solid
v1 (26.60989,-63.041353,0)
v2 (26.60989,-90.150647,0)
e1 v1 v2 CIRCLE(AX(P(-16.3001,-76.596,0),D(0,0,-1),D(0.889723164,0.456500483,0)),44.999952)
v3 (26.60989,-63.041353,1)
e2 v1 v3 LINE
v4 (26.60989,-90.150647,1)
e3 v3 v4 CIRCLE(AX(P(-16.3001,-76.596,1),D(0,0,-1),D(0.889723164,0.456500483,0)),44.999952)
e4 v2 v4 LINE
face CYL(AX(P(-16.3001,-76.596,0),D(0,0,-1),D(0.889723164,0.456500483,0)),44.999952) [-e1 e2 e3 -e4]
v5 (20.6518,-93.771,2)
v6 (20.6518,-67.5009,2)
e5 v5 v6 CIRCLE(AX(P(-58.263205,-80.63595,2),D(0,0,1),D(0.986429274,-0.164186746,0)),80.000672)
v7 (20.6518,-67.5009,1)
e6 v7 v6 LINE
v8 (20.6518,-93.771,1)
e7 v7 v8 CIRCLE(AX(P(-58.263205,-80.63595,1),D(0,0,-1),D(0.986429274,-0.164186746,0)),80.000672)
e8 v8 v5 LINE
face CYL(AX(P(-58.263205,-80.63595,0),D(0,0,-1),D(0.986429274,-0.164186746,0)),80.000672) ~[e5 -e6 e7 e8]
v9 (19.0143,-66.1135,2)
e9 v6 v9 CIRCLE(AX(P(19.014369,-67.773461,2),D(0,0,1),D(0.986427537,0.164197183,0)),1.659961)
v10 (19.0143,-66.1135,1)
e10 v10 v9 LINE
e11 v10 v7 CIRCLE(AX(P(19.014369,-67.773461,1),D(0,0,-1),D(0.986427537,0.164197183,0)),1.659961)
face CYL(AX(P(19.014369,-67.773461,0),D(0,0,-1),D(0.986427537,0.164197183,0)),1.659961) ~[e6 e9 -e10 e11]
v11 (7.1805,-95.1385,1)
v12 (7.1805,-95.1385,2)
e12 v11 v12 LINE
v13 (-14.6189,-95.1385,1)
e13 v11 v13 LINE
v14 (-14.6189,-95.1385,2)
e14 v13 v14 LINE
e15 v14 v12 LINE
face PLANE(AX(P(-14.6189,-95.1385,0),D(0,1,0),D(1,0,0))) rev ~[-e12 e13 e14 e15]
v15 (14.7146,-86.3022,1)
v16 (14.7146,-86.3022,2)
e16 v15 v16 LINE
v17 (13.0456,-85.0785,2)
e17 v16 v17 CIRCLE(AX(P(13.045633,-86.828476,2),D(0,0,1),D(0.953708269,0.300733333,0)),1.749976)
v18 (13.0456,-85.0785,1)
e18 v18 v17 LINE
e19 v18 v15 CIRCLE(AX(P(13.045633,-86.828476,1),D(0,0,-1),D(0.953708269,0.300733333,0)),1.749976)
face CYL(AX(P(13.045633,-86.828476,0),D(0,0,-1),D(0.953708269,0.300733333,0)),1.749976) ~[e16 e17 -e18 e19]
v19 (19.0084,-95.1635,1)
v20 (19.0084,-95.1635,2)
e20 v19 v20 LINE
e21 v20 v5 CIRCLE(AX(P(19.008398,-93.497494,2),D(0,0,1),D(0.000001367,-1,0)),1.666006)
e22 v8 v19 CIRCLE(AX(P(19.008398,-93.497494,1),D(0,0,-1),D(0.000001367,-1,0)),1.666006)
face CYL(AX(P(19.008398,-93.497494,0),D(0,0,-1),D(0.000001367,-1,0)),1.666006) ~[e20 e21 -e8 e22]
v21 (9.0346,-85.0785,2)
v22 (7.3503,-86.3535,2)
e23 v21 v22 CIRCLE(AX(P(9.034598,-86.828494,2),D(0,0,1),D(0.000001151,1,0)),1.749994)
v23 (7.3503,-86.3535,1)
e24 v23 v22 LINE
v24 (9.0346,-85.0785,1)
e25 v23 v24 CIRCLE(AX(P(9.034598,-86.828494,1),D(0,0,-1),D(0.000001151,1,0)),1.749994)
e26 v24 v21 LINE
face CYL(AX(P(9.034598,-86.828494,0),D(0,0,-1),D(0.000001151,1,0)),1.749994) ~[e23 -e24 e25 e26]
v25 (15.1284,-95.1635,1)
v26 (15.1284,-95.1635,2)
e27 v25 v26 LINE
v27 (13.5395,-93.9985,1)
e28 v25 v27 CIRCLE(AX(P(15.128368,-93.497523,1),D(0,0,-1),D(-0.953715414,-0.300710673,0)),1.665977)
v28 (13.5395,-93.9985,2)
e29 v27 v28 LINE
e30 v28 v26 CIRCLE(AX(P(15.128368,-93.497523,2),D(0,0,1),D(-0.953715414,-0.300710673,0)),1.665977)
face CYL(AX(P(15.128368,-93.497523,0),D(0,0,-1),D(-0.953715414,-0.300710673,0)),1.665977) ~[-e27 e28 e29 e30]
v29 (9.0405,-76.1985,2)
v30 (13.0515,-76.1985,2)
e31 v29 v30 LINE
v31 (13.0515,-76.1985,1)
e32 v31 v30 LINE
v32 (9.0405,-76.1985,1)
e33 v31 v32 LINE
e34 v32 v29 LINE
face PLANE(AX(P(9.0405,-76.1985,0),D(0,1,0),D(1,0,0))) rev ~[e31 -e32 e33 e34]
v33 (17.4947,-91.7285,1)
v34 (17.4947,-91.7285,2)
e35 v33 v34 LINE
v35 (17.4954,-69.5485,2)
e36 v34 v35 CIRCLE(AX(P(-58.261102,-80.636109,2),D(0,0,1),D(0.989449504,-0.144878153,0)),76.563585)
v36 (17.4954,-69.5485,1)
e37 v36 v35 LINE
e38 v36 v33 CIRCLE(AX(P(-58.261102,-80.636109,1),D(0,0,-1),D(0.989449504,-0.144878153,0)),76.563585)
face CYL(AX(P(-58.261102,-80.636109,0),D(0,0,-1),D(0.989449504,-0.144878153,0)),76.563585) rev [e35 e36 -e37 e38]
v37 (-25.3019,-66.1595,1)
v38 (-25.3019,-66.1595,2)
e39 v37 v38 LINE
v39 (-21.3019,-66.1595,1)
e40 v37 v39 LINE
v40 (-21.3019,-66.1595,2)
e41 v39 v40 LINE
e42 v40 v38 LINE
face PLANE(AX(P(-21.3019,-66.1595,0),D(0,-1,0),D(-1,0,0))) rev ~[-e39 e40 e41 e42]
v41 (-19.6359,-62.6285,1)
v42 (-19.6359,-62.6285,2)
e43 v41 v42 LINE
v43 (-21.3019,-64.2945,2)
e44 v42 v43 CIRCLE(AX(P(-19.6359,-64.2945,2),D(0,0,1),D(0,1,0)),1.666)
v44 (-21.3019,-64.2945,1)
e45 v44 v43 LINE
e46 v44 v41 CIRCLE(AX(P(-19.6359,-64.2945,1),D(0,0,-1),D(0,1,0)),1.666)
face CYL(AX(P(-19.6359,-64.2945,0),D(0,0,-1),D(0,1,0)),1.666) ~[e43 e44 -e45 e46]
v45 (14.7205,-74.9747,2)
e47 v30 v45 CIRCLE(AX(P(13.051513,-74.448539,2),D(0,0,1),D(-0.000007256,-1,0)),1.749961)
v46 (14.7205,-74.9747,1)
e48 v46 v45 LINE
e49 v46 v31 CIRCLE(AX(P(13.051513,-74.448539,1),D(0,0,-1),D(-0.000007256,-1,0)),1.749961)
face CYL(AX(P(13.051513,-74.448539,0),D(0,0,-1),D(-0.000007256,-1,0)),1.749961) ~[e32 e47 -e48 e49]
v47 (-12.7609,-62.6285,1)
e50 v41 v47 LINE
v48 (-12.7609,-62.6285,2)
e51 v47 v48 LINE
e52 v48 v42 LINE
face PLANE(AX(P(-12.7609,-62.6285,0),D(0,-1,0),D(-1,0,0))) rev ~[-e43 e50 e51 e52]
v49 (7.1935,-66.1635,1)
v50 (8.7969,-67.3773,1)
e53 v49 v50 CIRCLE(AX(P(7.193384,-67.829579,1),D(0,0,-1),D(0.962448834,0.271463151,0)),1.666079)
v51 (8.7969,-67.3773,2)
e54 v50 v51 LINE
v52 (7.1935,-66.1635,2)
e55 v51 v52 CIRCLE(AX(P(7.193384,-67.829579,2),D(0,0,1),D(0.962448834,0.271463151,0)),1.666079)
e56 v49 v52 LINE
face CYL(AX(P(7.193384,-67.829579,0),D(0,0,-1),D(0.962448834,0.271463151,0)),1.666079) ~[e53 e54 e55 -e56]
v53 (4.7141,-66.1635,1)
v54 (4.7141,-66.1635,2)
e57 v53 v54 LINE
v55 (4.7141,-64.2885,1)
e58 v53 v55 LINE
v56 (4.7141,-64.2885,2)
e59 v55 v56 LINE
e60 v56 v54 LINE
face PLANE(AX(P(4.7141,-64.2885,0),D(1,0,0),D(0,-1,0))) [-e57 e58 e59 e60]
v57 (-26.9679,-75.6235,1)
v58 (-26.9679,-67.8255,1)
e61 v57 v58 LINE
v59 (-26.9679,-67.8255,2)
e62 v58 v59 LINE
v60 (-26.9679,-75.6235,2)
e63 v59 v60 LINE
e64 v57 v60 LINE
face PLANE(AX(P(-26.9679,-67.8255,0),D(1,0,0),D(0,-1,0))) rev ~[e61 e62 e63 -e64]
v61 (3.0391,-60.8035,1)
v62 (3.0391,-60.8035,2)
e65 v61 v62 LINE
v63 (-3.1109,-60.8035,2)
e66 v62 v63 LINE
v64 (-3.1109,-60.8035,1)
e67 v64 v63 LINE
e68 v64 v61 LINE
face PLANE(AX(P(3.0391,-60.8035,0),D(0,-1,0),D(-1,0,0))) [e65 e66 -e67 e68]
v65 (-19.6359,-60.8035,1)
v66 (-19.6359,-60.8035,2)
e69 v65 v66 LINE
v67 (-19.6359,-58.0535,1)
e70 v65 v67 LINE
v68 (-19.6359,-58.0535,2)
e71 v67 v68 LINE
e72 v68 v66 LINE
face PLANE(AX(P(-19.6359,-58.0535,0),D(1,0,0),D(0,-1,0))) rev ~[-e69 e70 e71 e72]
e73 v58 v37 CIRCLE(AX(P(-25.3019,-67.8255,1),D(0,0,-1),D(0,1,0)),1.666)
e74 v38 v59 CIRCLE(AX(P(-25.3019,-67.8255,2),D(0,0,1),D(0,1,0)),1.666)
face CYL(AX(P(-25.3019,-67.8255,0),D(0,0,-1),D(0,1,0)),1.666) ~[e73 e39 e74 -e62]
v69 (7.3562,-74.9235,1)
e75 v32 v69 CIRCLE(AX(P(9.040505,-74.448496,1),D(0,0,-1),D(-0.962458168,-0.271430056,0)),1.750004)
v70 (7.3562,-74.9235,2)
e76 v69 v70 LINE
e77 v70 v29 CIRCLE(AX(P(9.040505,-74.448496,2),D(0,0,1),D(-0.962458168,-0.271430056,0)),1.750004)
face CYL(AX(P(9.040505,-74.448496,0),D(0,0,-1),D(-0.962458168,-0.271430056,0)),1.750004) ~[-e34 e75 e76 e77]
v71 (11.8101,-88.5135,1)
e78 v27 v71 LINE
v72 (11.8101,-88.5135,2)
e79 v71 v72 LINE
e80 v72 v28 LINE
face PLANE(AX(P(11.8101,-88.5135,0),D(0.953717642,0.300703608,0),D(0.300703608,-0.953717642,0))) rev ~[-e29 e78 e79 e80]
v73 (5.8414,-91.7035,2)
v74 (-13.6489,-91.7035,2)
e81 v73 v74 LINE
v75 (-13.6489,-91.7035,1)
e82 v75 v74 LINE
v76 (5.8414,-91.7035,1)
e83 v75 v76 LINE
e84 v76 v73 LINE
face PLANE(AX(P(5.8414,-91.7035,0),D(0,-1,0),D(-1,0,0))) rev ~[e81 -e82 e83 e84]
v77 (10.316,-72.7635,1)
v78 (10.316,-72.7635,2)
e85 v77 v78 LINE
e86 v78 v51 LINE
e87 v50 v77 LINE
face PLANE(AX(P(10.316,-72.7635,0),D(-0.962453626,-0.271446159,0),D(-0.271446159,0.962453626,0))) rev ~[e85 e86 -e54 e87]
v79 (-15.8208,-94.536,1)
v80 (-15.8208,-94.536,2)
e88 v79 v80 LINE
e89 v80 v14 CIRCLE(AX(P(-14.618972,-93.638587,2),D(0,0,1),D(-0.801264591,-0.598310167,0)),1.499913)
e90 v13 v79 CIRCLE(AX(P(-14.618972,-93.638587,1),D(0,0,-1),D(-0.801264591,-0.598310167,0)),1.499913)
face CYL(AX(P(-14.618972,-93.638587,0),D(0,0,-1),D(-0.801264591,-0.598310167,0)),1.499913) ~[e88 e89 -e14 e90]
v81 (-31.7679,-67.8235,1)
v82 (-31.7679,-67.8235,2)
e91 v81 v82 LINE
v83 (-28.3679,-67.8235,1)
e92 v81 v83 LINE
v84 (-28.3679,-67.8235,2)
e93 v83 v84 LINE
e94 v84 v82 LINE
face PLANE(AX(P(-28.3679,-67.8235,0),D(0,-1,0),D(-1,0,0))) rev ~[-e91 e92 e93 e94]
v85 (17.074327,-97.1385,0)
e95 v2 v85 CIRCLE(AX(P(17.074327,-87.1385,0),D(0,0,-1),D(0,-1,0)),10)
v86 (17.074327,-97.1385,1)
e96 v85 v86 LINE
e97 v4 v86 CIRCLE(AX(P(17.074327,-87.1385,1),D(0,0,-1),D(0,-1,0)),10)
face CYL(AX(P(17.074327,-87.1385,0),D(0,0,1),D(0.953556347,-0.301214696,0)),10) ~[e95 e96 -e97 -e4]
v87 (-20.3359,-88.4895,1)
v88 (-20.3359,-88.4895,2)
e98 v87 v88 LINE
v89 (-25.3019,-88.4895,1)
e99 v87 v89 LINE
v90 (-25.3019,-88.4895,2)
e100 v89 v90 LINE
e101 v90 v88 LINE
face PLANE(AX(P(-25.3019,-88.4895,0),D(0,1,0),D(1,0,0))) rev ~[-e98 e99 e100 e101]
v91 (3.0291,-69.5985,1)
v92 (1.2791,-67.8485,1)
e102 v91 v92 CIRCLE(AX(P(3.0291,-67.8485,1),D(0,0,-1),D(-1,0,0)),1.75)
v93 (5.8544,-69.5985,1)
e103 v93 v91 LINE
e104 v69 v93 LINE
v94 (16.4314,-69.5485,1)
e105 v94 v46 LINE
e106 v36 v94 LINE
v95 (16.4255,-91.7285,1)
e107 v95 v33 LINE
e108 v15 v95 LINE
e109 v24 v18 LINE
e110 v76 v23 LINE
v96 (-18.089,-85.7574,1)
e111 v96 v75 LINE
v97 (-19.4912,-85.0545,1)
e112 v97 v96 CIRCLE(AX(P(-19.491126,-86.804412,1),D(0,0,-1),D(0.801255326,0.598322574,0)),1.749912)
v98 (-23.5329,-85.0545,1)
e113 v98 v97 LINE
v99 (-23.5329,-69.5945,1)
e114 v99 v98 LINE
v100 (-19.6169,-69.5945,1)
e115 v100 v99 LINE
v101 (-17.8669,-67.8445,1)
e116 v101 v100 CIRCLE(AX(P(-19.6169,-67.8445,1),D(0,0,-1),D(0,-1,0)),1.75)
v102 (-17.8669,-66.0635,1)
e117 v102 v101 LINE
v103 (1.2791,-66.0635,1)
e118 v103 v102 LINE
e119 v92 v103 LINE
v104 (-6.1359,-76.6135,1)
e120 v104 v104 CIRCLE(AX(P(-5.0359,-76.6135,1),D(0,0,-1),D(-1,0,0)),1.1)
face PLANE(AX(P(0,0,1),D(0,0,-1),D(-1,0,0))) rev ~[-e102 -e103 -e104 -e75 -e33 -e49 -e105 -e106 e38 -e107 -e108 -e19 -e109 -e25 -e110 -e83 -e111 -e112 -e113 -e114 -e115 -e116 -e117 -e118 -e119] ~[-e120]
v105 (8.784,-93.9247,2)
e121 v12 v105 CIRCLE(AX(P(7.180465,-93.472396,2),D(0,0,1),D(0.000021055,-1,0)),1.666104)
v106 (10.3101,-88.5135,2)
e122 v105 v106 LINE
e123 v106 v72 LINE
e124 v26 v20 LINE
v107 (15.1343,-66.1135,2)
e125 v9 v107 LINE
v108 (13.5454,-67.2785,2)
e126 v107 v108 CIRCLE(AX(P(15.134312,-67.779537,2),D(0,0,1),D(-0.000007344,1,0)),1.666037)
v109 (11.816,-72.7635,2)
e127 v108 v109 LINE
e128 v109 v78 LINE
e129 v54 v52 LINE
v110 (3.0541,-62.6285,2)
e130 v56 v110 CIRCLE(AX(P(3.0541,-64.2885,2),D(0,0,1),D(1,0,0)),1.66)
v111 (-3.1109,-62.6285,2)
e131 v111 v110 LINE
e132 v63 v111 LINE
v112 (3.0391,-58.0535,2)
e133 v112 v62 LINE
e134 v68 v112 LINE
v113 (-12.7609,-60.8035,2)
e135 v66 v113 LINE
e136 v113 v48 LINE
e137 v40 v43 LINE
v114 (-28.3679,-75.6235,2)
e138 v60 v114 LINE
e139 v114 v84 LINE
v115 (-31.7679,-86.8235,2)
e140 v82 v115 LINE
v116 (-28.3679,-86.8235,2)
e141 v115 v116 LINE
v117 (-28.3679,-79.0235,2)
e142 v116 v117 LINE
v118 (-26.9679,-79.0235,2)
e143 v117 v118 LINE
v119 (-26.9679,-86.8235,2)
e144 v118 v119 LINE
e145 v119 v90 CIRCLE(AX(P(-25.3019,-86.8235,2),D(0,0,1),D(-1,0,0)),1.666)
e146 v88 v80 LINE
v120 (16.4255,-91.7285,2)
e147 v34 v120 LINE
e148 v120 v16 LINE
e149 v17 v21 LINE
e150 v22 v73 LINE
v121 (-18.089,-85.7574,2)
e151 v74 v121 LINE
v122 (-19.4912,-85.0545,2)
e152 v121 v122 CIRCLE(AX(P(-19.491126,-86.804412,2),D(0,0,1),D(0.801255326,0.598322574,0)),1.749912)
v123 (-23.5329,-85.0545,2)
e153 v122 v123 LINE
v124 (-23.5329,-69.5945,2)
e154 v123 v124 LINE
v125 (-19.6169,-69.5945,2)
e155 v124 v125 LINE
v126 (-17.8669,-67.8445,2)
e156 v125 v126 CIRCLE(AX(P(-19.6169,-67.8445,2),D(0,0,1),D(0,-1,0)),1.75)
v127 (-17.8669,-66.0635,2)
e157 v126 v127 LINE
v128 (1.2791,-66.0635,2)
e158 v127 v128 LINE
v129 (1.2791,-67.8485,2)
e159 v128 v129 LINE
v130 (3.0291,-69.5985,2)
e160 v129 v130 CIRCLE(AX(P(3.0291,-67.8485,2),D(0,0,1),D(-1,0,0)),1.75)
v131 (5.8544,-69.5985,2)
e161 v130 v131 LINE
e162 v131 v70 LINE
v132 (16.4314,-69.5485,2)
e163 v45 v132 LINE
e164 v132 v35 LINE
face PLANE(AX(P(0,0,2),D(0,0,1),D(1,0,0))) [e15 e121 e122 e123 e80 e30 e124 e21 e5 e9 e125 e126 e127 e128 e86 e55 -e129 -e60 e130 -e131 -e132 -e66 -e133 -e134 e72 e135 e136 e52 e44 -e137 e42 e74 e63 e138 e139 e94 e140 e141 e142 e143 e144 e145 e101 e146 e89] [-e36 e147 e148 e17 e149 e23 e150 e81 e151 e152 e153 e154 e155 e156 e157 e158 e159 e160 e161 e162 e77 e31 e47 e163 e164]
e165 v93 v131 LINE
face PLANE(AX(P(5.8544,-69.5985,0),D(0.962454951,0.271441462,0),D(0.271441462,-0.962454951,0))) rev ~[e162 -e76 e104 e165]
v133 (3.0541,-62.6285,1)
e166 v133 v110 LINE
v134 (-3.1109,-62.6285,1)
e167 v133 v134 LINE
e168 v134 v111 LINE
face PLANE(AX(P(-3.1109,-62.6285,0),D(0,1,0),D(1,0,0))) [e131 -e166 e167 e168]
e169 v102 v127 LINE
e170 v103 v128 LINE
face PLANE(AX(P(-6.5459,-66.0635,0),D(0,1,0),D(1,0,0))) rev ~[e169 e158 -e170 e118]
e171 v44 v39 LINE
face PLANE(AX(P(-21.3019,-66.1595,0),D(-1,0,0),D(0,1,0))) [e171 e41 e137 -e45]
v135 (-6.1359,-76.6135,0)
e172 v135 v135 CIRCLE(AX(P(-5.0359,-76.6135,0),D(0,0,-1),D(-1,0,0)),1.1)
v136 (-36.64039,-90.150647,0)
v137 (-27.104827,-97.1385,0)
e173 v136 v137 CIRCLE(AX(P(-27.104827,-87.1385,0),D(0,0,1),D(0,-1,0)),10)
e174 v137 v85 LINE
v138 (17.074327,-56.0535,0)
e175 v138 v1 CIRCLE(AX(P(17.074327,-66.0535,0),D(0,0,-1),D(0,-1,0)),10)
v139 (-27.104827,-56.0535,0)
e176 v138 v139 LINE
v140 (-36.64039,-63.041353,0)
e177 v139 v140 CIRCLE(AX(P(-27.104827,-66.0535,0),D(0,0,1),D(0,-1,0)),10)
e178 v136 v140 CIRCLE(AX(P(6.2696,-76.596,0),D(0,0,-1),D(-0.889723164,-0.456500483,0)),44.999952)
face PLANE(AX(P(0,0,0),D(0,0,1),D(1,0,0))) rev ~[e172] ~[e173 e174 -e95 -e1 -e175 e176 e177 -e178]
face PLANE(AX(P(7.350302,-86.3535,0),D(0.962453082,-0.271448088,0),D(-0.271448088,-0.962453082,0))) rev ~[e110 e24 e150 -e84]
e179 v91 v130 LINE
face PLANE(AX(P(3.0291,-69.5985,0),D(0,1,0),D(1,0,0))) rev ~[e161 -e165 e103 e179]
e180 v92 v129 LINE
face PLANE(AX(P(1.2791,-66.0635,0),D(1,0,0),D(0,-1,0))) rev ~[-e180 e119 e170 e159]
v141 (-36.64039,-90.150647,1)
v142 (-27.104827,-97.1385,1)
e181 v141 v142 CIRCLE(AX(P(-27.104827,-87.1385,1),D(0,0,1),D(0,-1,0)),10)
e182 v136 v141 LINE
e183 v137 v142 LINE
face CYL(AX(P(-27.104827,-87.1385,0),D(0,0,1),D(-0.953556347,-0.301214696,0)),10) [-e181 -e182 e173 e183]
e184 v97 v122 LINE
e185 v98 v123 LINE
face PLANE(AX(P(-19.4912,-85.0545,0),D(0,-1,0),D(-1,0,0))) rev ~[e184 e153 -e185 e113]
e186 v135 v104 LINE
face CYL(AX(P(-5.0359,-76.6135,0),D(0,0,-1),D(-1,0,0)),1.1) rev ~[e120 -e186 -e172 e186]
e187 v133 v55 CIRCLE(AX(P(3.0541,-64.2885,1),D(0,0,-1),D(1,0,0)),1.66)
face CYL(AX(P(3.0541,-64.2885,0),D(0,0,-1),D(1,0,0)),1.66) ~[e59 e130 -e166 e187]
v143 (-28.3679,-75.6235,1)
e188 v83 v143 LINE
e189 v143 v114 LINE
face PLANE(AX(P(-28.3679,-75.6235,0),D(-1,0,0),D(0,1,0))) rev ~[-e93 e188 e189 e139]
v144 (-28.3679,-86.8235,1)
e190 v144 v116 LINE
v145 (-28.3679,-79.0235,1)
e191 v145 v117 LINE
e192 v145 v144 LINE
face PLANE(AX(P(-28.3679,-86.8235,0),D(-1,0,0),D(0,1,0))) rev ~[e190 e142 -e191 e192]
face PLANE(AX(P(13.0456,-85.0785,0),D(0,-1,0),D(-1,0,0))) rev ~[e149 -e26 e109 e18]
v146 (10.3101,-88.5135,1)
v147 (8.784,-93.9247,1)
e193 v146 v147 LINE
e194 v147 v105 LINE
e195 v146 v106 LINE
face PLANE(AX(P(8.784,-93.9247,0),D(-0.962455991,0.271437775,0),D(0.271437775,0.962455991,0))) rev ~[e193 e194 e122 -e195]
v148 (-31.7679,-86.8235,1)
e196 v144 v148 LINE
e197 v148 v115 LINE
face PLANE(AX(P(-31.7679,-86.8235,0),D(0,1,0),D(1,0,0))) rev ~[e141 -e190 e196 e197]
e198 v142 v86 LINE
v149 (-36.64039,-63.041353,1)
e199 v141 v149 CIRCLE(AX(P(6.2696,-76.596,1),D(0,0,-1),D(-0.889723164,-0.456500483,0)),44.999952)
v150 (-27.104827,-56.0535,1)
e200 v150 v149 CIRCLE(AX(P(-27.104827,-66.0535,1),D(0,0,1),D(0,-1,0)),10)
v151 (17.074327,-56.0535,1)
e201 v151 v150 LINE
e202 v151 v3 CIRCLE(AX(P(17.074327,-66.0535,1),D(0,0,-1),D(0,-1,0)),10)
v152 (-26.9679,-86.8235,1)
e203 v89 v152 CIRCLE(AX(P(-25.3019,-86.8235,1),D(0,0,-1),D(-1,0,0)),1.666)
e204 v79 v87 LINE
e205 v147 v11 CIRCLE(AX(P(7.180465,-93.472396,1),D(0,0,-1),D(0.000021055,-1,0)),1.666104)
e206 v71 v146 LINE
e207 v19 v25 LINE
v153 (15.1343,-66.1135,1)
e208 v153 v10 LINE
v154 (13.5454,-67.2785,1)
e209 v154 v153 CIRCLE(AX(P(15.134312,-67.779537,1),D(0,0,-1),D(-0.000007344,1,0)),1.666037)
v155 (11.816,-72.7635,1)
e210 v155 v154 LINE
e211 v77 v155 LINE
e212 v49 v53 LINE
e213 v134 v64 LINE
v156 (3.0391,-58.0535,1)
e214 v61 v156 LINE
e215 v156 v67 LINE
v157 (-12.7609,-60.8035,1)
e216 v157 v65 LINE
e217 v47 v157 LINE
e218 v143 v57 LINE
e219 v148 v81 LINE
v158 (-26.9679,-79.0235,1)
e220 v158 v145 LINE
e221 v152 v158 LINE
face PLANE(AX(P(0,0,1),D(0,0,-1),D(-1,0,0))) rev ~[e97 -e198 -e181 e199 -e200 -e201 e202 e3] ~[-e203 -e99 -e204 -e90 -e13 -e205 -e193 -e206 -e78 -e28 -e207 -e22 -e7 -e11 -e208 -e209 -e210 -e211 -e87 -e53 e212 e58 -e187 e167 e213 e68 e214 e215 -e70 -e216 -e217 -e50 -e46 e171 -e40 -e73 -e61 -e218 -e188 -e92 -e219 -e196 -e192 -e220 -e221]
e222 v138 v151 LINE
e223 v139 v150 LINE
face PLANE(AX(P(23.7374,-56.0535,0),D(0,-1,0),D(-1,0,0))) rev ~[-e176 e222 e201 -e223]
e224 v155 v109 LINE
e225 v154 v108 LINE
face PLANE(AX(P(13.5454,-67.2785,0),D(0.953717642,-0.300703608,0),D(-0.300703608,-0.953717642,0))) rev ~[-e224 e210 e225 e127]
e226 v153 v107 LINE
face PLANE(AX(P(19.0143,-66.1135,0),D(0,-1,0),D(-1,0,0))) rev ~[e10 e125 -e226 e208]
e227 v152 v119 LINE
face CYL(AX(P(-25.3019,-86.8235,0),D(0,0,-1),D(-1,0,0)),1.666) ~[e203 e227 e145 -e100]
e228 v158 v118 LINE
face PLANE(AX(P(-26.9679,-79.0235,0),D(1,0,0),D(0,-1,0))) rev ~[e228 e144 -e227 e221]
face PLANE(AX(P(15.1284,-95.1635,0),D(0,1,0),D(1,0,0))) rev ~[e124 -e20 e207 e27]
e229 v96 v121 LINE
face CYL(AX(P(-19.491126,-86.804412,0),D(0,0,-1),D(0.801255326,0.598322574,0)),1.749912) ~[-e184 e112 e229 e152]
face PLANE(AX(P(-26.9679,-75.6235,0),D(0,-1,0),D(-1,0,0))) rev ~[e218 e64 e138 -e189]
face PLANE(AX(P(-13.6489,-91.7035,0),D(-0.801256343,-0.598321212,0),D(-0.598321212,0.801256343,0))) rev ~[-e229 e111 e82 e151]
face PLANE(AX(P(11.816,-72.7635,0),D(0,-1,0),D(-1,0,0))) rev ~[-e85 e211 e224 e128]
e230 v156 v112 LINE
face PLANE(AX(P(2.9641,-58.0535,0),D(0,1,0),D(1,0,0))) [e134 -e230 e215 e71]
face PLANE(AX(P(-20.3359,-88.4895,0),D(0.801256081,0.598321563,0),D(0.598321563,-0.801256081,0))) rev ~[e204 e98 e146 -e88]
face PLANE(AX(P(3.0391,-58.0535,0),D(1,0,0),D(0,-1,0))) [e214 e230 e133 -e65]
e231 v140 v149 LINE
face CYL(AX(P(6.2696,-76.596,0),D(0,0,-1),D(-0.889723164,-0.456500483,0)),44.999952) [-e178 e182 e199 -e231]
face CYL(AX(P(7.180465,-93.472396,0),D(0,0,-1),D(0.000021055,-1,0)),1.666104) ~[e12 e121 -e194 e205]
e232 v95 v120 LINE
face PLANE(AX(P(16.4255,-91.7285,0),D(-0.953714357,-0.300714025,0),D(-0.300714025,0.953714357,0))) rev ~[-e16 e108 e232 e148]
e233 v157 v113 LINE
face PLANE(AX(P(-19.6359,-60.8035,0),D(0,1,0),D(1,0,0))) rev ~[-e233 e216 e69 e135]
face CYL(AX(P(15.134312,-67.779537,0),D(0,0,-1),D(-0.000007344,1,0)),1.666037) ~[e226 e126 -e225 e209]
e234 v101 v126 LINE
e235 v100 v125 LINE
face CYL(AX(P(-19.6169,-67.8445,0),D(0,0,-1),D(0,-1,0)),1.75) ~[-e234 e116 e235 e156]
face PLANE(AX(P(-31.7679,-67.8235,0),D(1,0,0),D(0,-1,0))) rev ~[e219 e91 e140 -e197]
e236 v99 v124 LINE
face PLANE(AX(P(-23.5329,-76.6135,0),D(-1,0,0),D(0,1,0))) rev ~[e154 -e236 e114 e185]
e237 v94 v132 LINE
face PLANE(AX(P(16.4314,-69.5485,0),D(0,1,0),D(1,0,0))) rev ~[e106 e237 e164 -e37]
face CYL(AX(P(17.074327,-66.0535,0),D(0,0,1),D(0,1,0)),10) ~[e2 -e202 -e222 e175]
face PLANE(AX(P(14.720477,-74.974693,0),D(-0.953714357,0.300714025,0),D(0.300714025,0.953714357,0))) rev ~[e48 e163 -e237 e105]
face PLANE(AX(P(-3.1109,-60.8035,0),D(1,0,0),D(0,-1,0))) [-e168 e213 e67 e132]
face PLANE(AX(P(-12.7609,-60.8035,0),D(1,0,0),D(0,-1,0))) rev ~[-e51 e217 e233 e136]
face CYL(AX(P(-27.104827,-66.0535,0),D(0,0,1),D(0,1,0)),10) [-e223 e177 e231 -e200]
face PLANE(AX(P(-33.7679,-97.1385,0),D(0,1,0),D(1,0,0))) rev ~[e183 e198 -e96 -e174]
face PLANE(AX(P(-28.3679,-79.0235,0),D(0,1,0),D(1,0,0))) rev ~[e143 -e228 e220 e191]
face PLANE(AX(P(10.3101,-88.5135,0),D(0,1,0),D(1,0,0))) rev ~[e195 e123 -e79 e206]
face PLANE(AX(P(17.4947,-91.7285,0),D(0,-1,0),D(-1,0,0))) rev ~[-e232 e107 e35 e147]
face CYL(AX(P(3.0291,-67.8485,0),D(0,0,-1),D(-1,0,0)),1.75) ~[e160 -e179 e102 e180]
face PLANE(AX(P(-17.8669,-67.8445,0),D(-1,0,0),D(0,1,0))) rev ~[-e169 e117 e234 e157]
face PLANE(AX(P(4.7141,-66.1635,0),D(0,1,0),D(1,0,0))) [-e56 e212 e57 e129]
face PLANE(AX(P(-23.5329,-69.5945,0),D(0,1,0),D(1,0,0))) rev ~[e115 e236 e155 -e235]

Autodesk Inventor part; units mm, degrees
ref_plane "YZ Plane" through (0, 0, 0) normal (1, 0, 0) x (0, 1, 0)
ref_plane "XZ Plane" through (0, 0, 0) normal (0, 1, 0) x (-1, 0, 0)
ref_plane "XY Plane" through (0, 0, 0) normal (0, 0, 1) x (1, 0, 0)
sketch "Sketch1" plane through (0, 0, 0) normal (0, 0, 1) x (1, 0, 0)
  circle A0 centre (-5.0359, -76.6135) radius 1.1 projected
  line L0 (-5.0359, -76.6135) -> (-5.0359, -51.6135) construction
  line L1 (-36.2859, -51.6135) -> (26.2141, -51.6135) construction
  line L2 (26.2141, -51.6135) -> (26.2141, -101.6135) construction
  line L3 (26.2141, -101.6135) -> (-36.2859, -101.6135) construction
  line L4 (-36.2859, -101.6135) -> (-36.2859, -51.6135) construction
  line L5 (-5.0359, -76.6135) -> (26.2141, -76.6135) construction
  line L6 (2.9641, -58.0535) -> (-19.6359, -58.0535)
  line L7 (-19.6359, -58.0535) -> (-19.6359, -60.8035)
  line L8 (-19.6359, -60.8035) -> (-12.7609, -60.8035)
  line L9 (-12.7609, -60.8035) -> (-12.7609, -62.6285)
  line L10 (-12.7609, -62.6285) -> (-19.6359, -62.6285)
  arc A1 (-19.6359, -62.6285) -> (-21.3019, -64.2945) centre (-19.6359, -64.2945) ccw
  line L11 (-19.6359, -60.8035) -> (-19.6359, -62.6285) construction
  line L12 (-21.3019, -66.1595) -> (-21.3019, -64.2945)
  line L13 (-21.3019, -66.1595) -> (-25.3019, -66.1595)
  arc A2 (-25.3019, -66.1595) -> (-26.9679, -67.8255) centre (-25.3019, -67.8255) ccw
  line L14 (-26.9679, -67.8255) -> (-26.9679, -75.6235)
  line L15 (-26.9679, -75.6235) -> (-28.3679, -75.6235)
  line L16 (-28.3679, -75.6235) -> (-28.3679, -67.8235)
  line L17 (-28.3679, -67.8235) -> (-31.7679, -67.8235)
  line L18 (-31.7679, -67.8235) -> (-31.7679, -86.8235)
  line L19 (-31.7679, -86.8235) -> (-28.3679, -86.8235)
  line L20 (-28.3679, -86.8235) -> (-28.3679, -79.0235)
  line L21 (-28.3679, -79.0235) -> (-26.9679, -79.0235)
  line L22 (-26.9679, -79.0235) -> (-26.9679, -86.8235)
  arc A3 (-26.9679, -86.8235) -> (-25.3019, -88.4895) centre (-25.3019, -86.8235) ccw
  line L23 (-25.3019, -88.4895) -> (-20.3359, -88.4895)
  line L24 (-20.3359, -88.4895) -> (-15.8208, -94.536)
  arc A4 (-15.8208, -94.536) -> (-14.6189, -95.1385) centre (-14.6189, -93.6385) ccw
  line L25 (-14.6189, -95.1385) -> (7.1805, -95.1385)
  arc A5 (7.1805, -95.1385) -> (8.784, -93.9247) centre (7.1805, -93.4725) ccw
  line L26 (8.784, -93.9247) -> (10.3101, -88.5135)
  line L27 (10.3101, -88.5135) -> (11.8101, -88.5135)
  line L28 (11.8101, -88.5135) -> (13.5395, -93.9985)
  arc A6 (13.5395, -93.9985) -> (15.1284, -95.1635) centre (15.1284, -93.4975) ccw
  line L29 (15.1284, -95.1635) -> (19.0084, -95.1635)
  arc A7 (19.0084, -95.1635) -> (20.6518, -93.771) centre (19.0084, -93.4975) ccw
  arc A8 (20.6518, -93.771) -> (20.6518, -67.5009) centre (-58.2626, -80.636) ccw
  line L30 (20.6518, -93.771) -> (20.6518, -67.5009) construction
  arc A9 (20.6518, -67.5009) -> (19.0143, -66.1135) centre (19.0143, -67.7735) ccw
  line L31 (19.0143, -66.1135) -> (15.1343, -66.1135)
  arc A10 (15.1343, -66.1135) -> (13.5454, -67.2785) centre (15.1343, -67.7795) ccw
  line L32 (13.5454, -67.2785) -> (11.816, -72.7635)
  line L33 (11.816, -72.7635) -> (10.316, -72.7635)
  line L34 (10.316, -72.7635) -> (8.7969, -67.3773)
  line L35 (2.9641, -58.0535) -> (3.0391, -58.0535)
  line L36 (3.0391, -58.0535) -> (3.0391, -60.8035)
  line L37 (3.0391, -60.8035) -> (-3.1109, -60.8035)
  line L38 (-3.1109, -60.8035) -> (-3.1109, -62.6285)
  line L39 (-3.1109, -62.6285) -> (3.0541, -62.6285)
  arc A11 (4.7141, -64.2885) -> (3.0541, -62.6285) centre (3.0541, -64.2885) ccw
  line L40 (4.7141, -64.2885) -> (4.7141, -66.1635)
  line L41 (4.7141, -66.1635) -> (7.1935, -66.1635)
  arc A12 (8.7969, -67.3773) -> (7.1935, -66.1635) centre (7.1935, -67.8295) ccw
  arc A13 (17.4947, -91.7285) -> (17.4954, -69.5485) centre (-58.2626, -80.636) ccw
  line L42 (17.4947, -91.7285) -> (16.4255, -91.7285)
  line L43 (16.4255, -91.7285) -> (14.3287, -85.0785)
  line L44 (14.3287, -85.0785) -> (7.7099, -85.0785)
  line L45 (7.7099, -85.0785) -> (5.8414, -91.7035)
  line L46 (5.8414, -91.7035) -> (-13.6489, -91.7035)
  line L47 (-13.6489, -91.7035) -> (-18.6139, -85.0545)
  line L48 (-18.6139, -85.0545) -> (-23.5329, -85.0545)
  line L49 (-23.5329, -85.0545) -> (-23.5329, -76.6135)
  line L50 (-23.5329, -76.6135) -> (-23.5329, -69.5945)
  line L51 (-23.5329, -69.5945) -> (-17.8669, -69.5945)
  line L52 (-17.8669, -69.5945) -> (-17.8669, -66.0635)
  line L53 (-17.8669, -66.0635) -> (-9.3259, -66.0635)
  line L54 (-9.3259, -66.0635) -> (-9.3259, -61.4885)
  line L55 (-9.3259, -61.4885) -> (-6.5459, -61.4885)
  line L56 (-6.5459, -61.4885) -> (-6.5459, -66.0635)
  line L57 (-6.5459, -66.0635) -> (1.2791, -66.0635)
  line L58 (1.2791, -66.0635) -> (1.2791, -69.5985)
  line L59 (1.2791, -69.5985) -> (5.8544, -69.5985)
  line L60 (5.8544, -69.5985) -> (7.7158, -76.1985)
  line L61 (7.7158, -76.1985) -> (14.3346, -76.1985)
  line L62 (14.3346, -76.1985) -> (16.4314, -69.5485)
  line L63 (16.4314, -69.5485) -> (17.4954, -69.5485)
  line L64 (-23.5329, -76.6135) -> (-5.0359, -76.6135) construction
  line L65 (-6.5459, -66.0635) -> (-9.3259, -66.0635)
  arc A14 (13.0515, -76.1985) -> (14.7205, -74.9747) centre (13.0515, -74.4485) ccw
  arc A15 (7.3562, -74.9235) -> (9.0405, -76.1985) centre (9.0405, -74.4485) ccw
  arc A16 (14.7146, -86.3022) -> (13.0456, -85.0785) centre (13.0456, -86.8285) ccw
  arc A17 (9.0346, -85.0785) -> (7.3503, -86.3535) centre (9.0346, -86.8285) ccw
  arc A18 (1.2791, -67.8485) -> (3.0291, -69.5985) centre (3.0291, -67.8485) ccw
  arc A19 (-19.6169, -69.5945) -> (-17.8669, -67.8445) centre (-19.6169, -67.8445) ccw
  arc A20 (-18.089, -85.7574) -> (-19.4912, -85.0545) centre (-19.4912, -86.8045) ccw
  point P0 (0, 0)
  dimension "d9" = 50
  dimension "d22" = 18.56
  dimension "d23" = 8
  dimension "d24" = 22.6
  dimension "d26" = 2.75
  dimension "d27" = 6.875
  dimension "d28" = 1.825
  dimension "d31" = 3.531
  dimension "d32" = 1.666
  dimension "d33" = 1.666
  dimension "d34" = 1.666
  dimension "d40" = 4
  dimension "d42" = 0.99
  dimension "d43" = 1.4
  dimension "d44" = 3.4
  dimension "d45" = 7.8
  dimension "d46" = 19
  dimension "d47" = 1.666
  dimension "d55" = 15.3
  dimension "d56" = 53.25
  dimension "d58" = 18.525
  dimension "d62" = 1.5
  dimension "d65" = 105.75
  dimension "d66" = 18
  dimension "d67" = 1.666
  dimension "d68" = 11.9
  dimension "d69" = 107.5
  dimension "d70" = 1.5
  dimension "d72" = 18.55
  dimension "d73" = 1.666
  dimension "d75" = 1.666
  dimension "d77" = 3.88
  dimension "d78" = 80
  dimension "d82" = 1.66
  dimension "d85" = 10.5
  dimension "d87" = 3.88
  dimension "d88" = 15.75
  dimension "d90" = 107.5
  dimension "d91" = 105.75
  dimension "d94" = 0.075
  dimension "d95" = 6.15
  dimension "d96" = 1.66
  dimension "d97" = 1.666
  dimension "d98" = 9.75
  dimension "d99" = 10.45
  dimension "d101" = 10.55
  dimension "d107" = 3.5
  dimension "d108" = 3.5
  dimension "d111" = 3.5
  dimension "d112" = 3.5
  dimension "d113" = 3.5
  dimension "d114" = 3.5
  dimension "d116" = 3.5
extrude "Extrusion1" add sketch "Sketch1" along normal blind 2 contours L35 L36 L37 L38 L39 A11 L40 L41 A12 L34 L33 L32 A10 L31 A9 A8 A7 L29 A6 L28 L27 L26 A5 L25 A4 L24 L23 A3 L22 L21 L20 L19 L18 L17 L16 L15 L14 A2 L13 L12 A1 L10 L9 L8 L7 L6 | L65 L54 L55 L56
sketch "Sketch2" plane through (0, 0, 0) normal (0, 0, -1) x (-1, 0, 0)
  line L0 (-23.7374, -56.0535) -> (33.7679, -56.0535)
  line L1 (33.7679, -56.0535) -> (33.7679, -97.1385)
  line L2 (33.7679, -97.1385) -> (-23.7374, -97.1385)
  line L3 (-23.7374, -97.1385) -> (-23.7374, -56.0535)
  arc A0 (-23.7374, -56.0535) -> (-23.7374, -97.1385) centre (16.3001, -76.596) ccw
  line L4 (-3.0391, -58.0535) -> (19.6359, -58.0535) construction
  line L5 (-3.0391, -60.8035) -> (-3.0391, -58.0535) construction
  line L6 (3.1109, -60.8035) -> (-3.0391, -60.8035) construction
  line L7 (3.1109, -62.6285) -> (3.1109, -60.8035) construction
  line L8 (-3.0541, -62.6285) -> (3.1109, -62.6285) construction
  arc A1 (-3.0541, -62.6285) -> (-4.7141, -64.2885) centre (-3.0541, -64.2885) ccw construction
  line L9 (-4.7141, -66.1635) -> (-4.7141, -64.2885) construction
  line L10 (-7.1935, -66.1635) -> (-4.7141, -66.1635) construction
  arc A2 (-7.1935, -66.1635) -> (-8.7969, -67.3773) centre (-7.1935, -67.8295) ccw construction
  line L11 (-10.316, -72.7635) -> (-8.7969, -67.3773) construction
  line L12 (-11.816, -72.7635) -> (-10.316, -72.7635) construction
  line L13 (-13.5454, -67.2785) -> (-11.816, -72.7635) construction
  arc A3 (-13.5454, -67.2785) -> (-15.1343, -66.1135) centre (-15.1343, -67.7795) ccw construction
  line L14 (-19.0143, -66.1135) -> (-15.1343, -66.1135) construction
  arc A4 (-19.0143, -66.1135) -> (-20.6518, -67.5009) centre (-19.0143, -67.7735) ccw construction
  arc A5 (-20.6518, -67.5009) -> (-20.6518, -93.771) centre (58.2626, -80.636) ccw construction
  arc A6 (-20.6518, -93.771) -> (-19.0084, -95.1635) centre (-19.0084, -93.4975) ccw construction
  line L15 (-15.1284, -95.1635) -> (-19.0084, -95.1635) construction
  arc A7 (-15.1284, -95.1635) -> (-13.5395, -93.9985) centre (-15.1284, -93.4975) ccw construction
  line L16 (-11.8101, -88.5135) -> (-13.5395, -93.9985) construction
  line L17 (-10.3101, -88.5135) -> (-11.8101, -88.5135) construction
  line L18 (-8.784, -93.9247) -> (-10.3101, -88.5135) construction
  arc A8 (-8.784, -93.9247) -> (-7.1805, -95.1385) centre (-7.1805, -93.4725) ccw construction
  line L19 (14.6189, -95.1385) -> (-7.1805, -95.1385) construction
  arc A9 (14.6189, -95.1385) -> (15.8208, -94.536) centre (14.6189, -93.6385) ccw construction
  line L20 (20.3359, -88.4895) -> (15.8208, -94.536) construction
  line L21 (25.3019, -88.4895) -> (20.3359, -88.4895) construction
  arc A10 (25.3019, -88.4895) -> (26.9679, -86.8235) centre (25.3019, -86.8235) ccw construction
  line L22 (26.9679, -79.0235) -> (26.9679, -86.8235) construction
  line L23 (28.3679, -79.0235) -> (26.9679, -79.0235) construction
  line L24 (28.3679, -86.8235) -> (28.3679, -79.0235) construction
  line L25 (31.7679, -86.8235) -> (28.3679, -86.8235) construction
  line L26 (31.7679, -67.8235) -> (31.7679, -86.8235) construction
  line L27 (28.3679, -67.8235) -> (31.7679, -67.8235) construction
  line L28 (28.3679, -75.6235) -> (28.3679, -67.8235) construction
  line L29 (26.9679, -75.6235) -> (28.3679, -75.6235) construction
  line L30 (26.9679, -67.8255) -> (26.9679, -75.6235) construction
  arc A11 (26.9679, -67.8255) -> (25.3019, -66.1595) centre (25.3019, -67.8255) ccw construction
  line L31 (21.3019, -66.1595) -> (25.3019, -66.1595) construction
  line L32 (21.3019, -64.2945) -> (21.3019, -66.1595) construction
  arc A12 (21.3019, -64.2945) -> (19.6359, -62.6285) centre (19.6359, -64.2945) ccw construction
  line L33 (12.7609, -62.6285) -> (19.6359, -62.6285) construction
  line L34 (12.7609, -60.8035) -> (12.7609, -62.6285) construction
  line L35 (19.6359, -60.8035) -> (12.7609, -60.8035) construction
  line L36 (19.6359, -58.0535) -> (19.6359, -60.8035) construction
  line L37 (-17.4947, -91.7285) -> (-16.4255, -91.7285) construction
  arc A13 (-17.4954, -69.5485) -> (-17.4947, -91.7285) centre (58.2626, -80.636) ccw construction
  line L38 (-16.4314, -69.5485) -> (-17.4954, -69.5485) construction
  line L39 (-14.7205, -74.9747) -> (-16.4314, -69.5485) construction
  arc A14 (-14.7205, -74.9747) -> (-13.0515, -76.1985) centre (-13.0515, -74.4485) ccw construction
  line L40 (-9.0405, -76.1985) -> (-13.0515, -76.1985) construction
  arc A15 (-9.0405, -76.1985) -> (-7.3562, -74.9235) centre (-9.0405, -74.4485) ccw construction
  line L41 (-5.8544, -69.5985) -> (-7.3562, -74.9235) construction
  line L42 (-3.0291, -69.5985) -> (-5.8544, -69.5985) construction
  arc A16 (-3.0291, -69.5985) -> (-1.2791, -67.8485) centre (-3.0291, -67.8485) ccw construction
  line L43 (-1.2791, -66.0635) -> (-1.2791, -67.8485) construction
  line L44 (17.8669, -66.0635) -> (-1.2791, -66.0635) construction
  line L45 (17.8669, -67.8445) -> (17.8669, -66.0635) construction
  arc A17 (17.8669, -67.8445) -> (19.6169, -69.5945) centre (19.6169, -67.8445) ccw construction
  line L46 (23.5329, -69.5945) -> (19.6169, -69.5945) construction
  line L47 (23.5329, -85.0545) -> (23.5329, -69.5945) construction
  line L48 (19.4912, -85.0545) -> (23.5329, -85.0545) construction
  arc A18 (19.4912, -85.0545) -> (18.089, -85.7574) centre (19.4912, -86.8045) ccw construction
  line L49 (13.6489, -91.7035) -> (18.089, -85.7574) construction
  line L50 (-5.8414, -91.7035) -> (13.6489, -91.7035) construction
  line L51 (-7.3503, -86.3535) -> (-5.8414, -91.7035) construction
  arc A19 (-7.3503, -86.3535) -> (-9.0346, -85.0785) centre (-9.0346, -86.8285) ccw construction
  line L52 (-13.0456, -85.0785) -> (-9.0346, -85.0785) construction
  arc A20 (-13.0456, -85.0785) -> (-14.7146, -86.3022) centre (-13.0456, -86.8285) ccw construction
  line L53 (-16.4255, -91.7285) -> (-14.7146, -86.3022) construction
  arc A21 (-20.6518, -67.5009) -> (-20.6518, -93.771) centre (58.2626, -80.636) ccw construction
  line L54 (-21.7374, -80.636) -> (-18.3024, -80.6385) construction
  line L55 (16.3001, -76.596) -> (-28.6999, -76.596) construction
  line L56 (5.0152, -56.0535) -> (5.0152, -97.1385) construction
  arc A22 (33.7679, -97.1385) -> (33.7679, -56.0535) centre (-6.2696, -76.596) ccw
  circle A23 centre (5.0359, -76.6135) radius 1.1 projected
  point P0 (0, 0)
  dimension "d119" = 2
  dimension "d120" = 2
  dimension "d121" = 2
  dimension "d122" = 2
  dimension "d123" = 45
extrude "Extrusion2" add sketch "Sketch2" against normal blind 1
fillet "Fillet1" radius 10 4 edges at (23.7374, -97.1385, 0.5) (23.7374, -56.0535, 0.5) (-33.7679, -56.0535, 0.5) (-33.7679, -97.1385, 0.5)
properties part number "engine _light"
